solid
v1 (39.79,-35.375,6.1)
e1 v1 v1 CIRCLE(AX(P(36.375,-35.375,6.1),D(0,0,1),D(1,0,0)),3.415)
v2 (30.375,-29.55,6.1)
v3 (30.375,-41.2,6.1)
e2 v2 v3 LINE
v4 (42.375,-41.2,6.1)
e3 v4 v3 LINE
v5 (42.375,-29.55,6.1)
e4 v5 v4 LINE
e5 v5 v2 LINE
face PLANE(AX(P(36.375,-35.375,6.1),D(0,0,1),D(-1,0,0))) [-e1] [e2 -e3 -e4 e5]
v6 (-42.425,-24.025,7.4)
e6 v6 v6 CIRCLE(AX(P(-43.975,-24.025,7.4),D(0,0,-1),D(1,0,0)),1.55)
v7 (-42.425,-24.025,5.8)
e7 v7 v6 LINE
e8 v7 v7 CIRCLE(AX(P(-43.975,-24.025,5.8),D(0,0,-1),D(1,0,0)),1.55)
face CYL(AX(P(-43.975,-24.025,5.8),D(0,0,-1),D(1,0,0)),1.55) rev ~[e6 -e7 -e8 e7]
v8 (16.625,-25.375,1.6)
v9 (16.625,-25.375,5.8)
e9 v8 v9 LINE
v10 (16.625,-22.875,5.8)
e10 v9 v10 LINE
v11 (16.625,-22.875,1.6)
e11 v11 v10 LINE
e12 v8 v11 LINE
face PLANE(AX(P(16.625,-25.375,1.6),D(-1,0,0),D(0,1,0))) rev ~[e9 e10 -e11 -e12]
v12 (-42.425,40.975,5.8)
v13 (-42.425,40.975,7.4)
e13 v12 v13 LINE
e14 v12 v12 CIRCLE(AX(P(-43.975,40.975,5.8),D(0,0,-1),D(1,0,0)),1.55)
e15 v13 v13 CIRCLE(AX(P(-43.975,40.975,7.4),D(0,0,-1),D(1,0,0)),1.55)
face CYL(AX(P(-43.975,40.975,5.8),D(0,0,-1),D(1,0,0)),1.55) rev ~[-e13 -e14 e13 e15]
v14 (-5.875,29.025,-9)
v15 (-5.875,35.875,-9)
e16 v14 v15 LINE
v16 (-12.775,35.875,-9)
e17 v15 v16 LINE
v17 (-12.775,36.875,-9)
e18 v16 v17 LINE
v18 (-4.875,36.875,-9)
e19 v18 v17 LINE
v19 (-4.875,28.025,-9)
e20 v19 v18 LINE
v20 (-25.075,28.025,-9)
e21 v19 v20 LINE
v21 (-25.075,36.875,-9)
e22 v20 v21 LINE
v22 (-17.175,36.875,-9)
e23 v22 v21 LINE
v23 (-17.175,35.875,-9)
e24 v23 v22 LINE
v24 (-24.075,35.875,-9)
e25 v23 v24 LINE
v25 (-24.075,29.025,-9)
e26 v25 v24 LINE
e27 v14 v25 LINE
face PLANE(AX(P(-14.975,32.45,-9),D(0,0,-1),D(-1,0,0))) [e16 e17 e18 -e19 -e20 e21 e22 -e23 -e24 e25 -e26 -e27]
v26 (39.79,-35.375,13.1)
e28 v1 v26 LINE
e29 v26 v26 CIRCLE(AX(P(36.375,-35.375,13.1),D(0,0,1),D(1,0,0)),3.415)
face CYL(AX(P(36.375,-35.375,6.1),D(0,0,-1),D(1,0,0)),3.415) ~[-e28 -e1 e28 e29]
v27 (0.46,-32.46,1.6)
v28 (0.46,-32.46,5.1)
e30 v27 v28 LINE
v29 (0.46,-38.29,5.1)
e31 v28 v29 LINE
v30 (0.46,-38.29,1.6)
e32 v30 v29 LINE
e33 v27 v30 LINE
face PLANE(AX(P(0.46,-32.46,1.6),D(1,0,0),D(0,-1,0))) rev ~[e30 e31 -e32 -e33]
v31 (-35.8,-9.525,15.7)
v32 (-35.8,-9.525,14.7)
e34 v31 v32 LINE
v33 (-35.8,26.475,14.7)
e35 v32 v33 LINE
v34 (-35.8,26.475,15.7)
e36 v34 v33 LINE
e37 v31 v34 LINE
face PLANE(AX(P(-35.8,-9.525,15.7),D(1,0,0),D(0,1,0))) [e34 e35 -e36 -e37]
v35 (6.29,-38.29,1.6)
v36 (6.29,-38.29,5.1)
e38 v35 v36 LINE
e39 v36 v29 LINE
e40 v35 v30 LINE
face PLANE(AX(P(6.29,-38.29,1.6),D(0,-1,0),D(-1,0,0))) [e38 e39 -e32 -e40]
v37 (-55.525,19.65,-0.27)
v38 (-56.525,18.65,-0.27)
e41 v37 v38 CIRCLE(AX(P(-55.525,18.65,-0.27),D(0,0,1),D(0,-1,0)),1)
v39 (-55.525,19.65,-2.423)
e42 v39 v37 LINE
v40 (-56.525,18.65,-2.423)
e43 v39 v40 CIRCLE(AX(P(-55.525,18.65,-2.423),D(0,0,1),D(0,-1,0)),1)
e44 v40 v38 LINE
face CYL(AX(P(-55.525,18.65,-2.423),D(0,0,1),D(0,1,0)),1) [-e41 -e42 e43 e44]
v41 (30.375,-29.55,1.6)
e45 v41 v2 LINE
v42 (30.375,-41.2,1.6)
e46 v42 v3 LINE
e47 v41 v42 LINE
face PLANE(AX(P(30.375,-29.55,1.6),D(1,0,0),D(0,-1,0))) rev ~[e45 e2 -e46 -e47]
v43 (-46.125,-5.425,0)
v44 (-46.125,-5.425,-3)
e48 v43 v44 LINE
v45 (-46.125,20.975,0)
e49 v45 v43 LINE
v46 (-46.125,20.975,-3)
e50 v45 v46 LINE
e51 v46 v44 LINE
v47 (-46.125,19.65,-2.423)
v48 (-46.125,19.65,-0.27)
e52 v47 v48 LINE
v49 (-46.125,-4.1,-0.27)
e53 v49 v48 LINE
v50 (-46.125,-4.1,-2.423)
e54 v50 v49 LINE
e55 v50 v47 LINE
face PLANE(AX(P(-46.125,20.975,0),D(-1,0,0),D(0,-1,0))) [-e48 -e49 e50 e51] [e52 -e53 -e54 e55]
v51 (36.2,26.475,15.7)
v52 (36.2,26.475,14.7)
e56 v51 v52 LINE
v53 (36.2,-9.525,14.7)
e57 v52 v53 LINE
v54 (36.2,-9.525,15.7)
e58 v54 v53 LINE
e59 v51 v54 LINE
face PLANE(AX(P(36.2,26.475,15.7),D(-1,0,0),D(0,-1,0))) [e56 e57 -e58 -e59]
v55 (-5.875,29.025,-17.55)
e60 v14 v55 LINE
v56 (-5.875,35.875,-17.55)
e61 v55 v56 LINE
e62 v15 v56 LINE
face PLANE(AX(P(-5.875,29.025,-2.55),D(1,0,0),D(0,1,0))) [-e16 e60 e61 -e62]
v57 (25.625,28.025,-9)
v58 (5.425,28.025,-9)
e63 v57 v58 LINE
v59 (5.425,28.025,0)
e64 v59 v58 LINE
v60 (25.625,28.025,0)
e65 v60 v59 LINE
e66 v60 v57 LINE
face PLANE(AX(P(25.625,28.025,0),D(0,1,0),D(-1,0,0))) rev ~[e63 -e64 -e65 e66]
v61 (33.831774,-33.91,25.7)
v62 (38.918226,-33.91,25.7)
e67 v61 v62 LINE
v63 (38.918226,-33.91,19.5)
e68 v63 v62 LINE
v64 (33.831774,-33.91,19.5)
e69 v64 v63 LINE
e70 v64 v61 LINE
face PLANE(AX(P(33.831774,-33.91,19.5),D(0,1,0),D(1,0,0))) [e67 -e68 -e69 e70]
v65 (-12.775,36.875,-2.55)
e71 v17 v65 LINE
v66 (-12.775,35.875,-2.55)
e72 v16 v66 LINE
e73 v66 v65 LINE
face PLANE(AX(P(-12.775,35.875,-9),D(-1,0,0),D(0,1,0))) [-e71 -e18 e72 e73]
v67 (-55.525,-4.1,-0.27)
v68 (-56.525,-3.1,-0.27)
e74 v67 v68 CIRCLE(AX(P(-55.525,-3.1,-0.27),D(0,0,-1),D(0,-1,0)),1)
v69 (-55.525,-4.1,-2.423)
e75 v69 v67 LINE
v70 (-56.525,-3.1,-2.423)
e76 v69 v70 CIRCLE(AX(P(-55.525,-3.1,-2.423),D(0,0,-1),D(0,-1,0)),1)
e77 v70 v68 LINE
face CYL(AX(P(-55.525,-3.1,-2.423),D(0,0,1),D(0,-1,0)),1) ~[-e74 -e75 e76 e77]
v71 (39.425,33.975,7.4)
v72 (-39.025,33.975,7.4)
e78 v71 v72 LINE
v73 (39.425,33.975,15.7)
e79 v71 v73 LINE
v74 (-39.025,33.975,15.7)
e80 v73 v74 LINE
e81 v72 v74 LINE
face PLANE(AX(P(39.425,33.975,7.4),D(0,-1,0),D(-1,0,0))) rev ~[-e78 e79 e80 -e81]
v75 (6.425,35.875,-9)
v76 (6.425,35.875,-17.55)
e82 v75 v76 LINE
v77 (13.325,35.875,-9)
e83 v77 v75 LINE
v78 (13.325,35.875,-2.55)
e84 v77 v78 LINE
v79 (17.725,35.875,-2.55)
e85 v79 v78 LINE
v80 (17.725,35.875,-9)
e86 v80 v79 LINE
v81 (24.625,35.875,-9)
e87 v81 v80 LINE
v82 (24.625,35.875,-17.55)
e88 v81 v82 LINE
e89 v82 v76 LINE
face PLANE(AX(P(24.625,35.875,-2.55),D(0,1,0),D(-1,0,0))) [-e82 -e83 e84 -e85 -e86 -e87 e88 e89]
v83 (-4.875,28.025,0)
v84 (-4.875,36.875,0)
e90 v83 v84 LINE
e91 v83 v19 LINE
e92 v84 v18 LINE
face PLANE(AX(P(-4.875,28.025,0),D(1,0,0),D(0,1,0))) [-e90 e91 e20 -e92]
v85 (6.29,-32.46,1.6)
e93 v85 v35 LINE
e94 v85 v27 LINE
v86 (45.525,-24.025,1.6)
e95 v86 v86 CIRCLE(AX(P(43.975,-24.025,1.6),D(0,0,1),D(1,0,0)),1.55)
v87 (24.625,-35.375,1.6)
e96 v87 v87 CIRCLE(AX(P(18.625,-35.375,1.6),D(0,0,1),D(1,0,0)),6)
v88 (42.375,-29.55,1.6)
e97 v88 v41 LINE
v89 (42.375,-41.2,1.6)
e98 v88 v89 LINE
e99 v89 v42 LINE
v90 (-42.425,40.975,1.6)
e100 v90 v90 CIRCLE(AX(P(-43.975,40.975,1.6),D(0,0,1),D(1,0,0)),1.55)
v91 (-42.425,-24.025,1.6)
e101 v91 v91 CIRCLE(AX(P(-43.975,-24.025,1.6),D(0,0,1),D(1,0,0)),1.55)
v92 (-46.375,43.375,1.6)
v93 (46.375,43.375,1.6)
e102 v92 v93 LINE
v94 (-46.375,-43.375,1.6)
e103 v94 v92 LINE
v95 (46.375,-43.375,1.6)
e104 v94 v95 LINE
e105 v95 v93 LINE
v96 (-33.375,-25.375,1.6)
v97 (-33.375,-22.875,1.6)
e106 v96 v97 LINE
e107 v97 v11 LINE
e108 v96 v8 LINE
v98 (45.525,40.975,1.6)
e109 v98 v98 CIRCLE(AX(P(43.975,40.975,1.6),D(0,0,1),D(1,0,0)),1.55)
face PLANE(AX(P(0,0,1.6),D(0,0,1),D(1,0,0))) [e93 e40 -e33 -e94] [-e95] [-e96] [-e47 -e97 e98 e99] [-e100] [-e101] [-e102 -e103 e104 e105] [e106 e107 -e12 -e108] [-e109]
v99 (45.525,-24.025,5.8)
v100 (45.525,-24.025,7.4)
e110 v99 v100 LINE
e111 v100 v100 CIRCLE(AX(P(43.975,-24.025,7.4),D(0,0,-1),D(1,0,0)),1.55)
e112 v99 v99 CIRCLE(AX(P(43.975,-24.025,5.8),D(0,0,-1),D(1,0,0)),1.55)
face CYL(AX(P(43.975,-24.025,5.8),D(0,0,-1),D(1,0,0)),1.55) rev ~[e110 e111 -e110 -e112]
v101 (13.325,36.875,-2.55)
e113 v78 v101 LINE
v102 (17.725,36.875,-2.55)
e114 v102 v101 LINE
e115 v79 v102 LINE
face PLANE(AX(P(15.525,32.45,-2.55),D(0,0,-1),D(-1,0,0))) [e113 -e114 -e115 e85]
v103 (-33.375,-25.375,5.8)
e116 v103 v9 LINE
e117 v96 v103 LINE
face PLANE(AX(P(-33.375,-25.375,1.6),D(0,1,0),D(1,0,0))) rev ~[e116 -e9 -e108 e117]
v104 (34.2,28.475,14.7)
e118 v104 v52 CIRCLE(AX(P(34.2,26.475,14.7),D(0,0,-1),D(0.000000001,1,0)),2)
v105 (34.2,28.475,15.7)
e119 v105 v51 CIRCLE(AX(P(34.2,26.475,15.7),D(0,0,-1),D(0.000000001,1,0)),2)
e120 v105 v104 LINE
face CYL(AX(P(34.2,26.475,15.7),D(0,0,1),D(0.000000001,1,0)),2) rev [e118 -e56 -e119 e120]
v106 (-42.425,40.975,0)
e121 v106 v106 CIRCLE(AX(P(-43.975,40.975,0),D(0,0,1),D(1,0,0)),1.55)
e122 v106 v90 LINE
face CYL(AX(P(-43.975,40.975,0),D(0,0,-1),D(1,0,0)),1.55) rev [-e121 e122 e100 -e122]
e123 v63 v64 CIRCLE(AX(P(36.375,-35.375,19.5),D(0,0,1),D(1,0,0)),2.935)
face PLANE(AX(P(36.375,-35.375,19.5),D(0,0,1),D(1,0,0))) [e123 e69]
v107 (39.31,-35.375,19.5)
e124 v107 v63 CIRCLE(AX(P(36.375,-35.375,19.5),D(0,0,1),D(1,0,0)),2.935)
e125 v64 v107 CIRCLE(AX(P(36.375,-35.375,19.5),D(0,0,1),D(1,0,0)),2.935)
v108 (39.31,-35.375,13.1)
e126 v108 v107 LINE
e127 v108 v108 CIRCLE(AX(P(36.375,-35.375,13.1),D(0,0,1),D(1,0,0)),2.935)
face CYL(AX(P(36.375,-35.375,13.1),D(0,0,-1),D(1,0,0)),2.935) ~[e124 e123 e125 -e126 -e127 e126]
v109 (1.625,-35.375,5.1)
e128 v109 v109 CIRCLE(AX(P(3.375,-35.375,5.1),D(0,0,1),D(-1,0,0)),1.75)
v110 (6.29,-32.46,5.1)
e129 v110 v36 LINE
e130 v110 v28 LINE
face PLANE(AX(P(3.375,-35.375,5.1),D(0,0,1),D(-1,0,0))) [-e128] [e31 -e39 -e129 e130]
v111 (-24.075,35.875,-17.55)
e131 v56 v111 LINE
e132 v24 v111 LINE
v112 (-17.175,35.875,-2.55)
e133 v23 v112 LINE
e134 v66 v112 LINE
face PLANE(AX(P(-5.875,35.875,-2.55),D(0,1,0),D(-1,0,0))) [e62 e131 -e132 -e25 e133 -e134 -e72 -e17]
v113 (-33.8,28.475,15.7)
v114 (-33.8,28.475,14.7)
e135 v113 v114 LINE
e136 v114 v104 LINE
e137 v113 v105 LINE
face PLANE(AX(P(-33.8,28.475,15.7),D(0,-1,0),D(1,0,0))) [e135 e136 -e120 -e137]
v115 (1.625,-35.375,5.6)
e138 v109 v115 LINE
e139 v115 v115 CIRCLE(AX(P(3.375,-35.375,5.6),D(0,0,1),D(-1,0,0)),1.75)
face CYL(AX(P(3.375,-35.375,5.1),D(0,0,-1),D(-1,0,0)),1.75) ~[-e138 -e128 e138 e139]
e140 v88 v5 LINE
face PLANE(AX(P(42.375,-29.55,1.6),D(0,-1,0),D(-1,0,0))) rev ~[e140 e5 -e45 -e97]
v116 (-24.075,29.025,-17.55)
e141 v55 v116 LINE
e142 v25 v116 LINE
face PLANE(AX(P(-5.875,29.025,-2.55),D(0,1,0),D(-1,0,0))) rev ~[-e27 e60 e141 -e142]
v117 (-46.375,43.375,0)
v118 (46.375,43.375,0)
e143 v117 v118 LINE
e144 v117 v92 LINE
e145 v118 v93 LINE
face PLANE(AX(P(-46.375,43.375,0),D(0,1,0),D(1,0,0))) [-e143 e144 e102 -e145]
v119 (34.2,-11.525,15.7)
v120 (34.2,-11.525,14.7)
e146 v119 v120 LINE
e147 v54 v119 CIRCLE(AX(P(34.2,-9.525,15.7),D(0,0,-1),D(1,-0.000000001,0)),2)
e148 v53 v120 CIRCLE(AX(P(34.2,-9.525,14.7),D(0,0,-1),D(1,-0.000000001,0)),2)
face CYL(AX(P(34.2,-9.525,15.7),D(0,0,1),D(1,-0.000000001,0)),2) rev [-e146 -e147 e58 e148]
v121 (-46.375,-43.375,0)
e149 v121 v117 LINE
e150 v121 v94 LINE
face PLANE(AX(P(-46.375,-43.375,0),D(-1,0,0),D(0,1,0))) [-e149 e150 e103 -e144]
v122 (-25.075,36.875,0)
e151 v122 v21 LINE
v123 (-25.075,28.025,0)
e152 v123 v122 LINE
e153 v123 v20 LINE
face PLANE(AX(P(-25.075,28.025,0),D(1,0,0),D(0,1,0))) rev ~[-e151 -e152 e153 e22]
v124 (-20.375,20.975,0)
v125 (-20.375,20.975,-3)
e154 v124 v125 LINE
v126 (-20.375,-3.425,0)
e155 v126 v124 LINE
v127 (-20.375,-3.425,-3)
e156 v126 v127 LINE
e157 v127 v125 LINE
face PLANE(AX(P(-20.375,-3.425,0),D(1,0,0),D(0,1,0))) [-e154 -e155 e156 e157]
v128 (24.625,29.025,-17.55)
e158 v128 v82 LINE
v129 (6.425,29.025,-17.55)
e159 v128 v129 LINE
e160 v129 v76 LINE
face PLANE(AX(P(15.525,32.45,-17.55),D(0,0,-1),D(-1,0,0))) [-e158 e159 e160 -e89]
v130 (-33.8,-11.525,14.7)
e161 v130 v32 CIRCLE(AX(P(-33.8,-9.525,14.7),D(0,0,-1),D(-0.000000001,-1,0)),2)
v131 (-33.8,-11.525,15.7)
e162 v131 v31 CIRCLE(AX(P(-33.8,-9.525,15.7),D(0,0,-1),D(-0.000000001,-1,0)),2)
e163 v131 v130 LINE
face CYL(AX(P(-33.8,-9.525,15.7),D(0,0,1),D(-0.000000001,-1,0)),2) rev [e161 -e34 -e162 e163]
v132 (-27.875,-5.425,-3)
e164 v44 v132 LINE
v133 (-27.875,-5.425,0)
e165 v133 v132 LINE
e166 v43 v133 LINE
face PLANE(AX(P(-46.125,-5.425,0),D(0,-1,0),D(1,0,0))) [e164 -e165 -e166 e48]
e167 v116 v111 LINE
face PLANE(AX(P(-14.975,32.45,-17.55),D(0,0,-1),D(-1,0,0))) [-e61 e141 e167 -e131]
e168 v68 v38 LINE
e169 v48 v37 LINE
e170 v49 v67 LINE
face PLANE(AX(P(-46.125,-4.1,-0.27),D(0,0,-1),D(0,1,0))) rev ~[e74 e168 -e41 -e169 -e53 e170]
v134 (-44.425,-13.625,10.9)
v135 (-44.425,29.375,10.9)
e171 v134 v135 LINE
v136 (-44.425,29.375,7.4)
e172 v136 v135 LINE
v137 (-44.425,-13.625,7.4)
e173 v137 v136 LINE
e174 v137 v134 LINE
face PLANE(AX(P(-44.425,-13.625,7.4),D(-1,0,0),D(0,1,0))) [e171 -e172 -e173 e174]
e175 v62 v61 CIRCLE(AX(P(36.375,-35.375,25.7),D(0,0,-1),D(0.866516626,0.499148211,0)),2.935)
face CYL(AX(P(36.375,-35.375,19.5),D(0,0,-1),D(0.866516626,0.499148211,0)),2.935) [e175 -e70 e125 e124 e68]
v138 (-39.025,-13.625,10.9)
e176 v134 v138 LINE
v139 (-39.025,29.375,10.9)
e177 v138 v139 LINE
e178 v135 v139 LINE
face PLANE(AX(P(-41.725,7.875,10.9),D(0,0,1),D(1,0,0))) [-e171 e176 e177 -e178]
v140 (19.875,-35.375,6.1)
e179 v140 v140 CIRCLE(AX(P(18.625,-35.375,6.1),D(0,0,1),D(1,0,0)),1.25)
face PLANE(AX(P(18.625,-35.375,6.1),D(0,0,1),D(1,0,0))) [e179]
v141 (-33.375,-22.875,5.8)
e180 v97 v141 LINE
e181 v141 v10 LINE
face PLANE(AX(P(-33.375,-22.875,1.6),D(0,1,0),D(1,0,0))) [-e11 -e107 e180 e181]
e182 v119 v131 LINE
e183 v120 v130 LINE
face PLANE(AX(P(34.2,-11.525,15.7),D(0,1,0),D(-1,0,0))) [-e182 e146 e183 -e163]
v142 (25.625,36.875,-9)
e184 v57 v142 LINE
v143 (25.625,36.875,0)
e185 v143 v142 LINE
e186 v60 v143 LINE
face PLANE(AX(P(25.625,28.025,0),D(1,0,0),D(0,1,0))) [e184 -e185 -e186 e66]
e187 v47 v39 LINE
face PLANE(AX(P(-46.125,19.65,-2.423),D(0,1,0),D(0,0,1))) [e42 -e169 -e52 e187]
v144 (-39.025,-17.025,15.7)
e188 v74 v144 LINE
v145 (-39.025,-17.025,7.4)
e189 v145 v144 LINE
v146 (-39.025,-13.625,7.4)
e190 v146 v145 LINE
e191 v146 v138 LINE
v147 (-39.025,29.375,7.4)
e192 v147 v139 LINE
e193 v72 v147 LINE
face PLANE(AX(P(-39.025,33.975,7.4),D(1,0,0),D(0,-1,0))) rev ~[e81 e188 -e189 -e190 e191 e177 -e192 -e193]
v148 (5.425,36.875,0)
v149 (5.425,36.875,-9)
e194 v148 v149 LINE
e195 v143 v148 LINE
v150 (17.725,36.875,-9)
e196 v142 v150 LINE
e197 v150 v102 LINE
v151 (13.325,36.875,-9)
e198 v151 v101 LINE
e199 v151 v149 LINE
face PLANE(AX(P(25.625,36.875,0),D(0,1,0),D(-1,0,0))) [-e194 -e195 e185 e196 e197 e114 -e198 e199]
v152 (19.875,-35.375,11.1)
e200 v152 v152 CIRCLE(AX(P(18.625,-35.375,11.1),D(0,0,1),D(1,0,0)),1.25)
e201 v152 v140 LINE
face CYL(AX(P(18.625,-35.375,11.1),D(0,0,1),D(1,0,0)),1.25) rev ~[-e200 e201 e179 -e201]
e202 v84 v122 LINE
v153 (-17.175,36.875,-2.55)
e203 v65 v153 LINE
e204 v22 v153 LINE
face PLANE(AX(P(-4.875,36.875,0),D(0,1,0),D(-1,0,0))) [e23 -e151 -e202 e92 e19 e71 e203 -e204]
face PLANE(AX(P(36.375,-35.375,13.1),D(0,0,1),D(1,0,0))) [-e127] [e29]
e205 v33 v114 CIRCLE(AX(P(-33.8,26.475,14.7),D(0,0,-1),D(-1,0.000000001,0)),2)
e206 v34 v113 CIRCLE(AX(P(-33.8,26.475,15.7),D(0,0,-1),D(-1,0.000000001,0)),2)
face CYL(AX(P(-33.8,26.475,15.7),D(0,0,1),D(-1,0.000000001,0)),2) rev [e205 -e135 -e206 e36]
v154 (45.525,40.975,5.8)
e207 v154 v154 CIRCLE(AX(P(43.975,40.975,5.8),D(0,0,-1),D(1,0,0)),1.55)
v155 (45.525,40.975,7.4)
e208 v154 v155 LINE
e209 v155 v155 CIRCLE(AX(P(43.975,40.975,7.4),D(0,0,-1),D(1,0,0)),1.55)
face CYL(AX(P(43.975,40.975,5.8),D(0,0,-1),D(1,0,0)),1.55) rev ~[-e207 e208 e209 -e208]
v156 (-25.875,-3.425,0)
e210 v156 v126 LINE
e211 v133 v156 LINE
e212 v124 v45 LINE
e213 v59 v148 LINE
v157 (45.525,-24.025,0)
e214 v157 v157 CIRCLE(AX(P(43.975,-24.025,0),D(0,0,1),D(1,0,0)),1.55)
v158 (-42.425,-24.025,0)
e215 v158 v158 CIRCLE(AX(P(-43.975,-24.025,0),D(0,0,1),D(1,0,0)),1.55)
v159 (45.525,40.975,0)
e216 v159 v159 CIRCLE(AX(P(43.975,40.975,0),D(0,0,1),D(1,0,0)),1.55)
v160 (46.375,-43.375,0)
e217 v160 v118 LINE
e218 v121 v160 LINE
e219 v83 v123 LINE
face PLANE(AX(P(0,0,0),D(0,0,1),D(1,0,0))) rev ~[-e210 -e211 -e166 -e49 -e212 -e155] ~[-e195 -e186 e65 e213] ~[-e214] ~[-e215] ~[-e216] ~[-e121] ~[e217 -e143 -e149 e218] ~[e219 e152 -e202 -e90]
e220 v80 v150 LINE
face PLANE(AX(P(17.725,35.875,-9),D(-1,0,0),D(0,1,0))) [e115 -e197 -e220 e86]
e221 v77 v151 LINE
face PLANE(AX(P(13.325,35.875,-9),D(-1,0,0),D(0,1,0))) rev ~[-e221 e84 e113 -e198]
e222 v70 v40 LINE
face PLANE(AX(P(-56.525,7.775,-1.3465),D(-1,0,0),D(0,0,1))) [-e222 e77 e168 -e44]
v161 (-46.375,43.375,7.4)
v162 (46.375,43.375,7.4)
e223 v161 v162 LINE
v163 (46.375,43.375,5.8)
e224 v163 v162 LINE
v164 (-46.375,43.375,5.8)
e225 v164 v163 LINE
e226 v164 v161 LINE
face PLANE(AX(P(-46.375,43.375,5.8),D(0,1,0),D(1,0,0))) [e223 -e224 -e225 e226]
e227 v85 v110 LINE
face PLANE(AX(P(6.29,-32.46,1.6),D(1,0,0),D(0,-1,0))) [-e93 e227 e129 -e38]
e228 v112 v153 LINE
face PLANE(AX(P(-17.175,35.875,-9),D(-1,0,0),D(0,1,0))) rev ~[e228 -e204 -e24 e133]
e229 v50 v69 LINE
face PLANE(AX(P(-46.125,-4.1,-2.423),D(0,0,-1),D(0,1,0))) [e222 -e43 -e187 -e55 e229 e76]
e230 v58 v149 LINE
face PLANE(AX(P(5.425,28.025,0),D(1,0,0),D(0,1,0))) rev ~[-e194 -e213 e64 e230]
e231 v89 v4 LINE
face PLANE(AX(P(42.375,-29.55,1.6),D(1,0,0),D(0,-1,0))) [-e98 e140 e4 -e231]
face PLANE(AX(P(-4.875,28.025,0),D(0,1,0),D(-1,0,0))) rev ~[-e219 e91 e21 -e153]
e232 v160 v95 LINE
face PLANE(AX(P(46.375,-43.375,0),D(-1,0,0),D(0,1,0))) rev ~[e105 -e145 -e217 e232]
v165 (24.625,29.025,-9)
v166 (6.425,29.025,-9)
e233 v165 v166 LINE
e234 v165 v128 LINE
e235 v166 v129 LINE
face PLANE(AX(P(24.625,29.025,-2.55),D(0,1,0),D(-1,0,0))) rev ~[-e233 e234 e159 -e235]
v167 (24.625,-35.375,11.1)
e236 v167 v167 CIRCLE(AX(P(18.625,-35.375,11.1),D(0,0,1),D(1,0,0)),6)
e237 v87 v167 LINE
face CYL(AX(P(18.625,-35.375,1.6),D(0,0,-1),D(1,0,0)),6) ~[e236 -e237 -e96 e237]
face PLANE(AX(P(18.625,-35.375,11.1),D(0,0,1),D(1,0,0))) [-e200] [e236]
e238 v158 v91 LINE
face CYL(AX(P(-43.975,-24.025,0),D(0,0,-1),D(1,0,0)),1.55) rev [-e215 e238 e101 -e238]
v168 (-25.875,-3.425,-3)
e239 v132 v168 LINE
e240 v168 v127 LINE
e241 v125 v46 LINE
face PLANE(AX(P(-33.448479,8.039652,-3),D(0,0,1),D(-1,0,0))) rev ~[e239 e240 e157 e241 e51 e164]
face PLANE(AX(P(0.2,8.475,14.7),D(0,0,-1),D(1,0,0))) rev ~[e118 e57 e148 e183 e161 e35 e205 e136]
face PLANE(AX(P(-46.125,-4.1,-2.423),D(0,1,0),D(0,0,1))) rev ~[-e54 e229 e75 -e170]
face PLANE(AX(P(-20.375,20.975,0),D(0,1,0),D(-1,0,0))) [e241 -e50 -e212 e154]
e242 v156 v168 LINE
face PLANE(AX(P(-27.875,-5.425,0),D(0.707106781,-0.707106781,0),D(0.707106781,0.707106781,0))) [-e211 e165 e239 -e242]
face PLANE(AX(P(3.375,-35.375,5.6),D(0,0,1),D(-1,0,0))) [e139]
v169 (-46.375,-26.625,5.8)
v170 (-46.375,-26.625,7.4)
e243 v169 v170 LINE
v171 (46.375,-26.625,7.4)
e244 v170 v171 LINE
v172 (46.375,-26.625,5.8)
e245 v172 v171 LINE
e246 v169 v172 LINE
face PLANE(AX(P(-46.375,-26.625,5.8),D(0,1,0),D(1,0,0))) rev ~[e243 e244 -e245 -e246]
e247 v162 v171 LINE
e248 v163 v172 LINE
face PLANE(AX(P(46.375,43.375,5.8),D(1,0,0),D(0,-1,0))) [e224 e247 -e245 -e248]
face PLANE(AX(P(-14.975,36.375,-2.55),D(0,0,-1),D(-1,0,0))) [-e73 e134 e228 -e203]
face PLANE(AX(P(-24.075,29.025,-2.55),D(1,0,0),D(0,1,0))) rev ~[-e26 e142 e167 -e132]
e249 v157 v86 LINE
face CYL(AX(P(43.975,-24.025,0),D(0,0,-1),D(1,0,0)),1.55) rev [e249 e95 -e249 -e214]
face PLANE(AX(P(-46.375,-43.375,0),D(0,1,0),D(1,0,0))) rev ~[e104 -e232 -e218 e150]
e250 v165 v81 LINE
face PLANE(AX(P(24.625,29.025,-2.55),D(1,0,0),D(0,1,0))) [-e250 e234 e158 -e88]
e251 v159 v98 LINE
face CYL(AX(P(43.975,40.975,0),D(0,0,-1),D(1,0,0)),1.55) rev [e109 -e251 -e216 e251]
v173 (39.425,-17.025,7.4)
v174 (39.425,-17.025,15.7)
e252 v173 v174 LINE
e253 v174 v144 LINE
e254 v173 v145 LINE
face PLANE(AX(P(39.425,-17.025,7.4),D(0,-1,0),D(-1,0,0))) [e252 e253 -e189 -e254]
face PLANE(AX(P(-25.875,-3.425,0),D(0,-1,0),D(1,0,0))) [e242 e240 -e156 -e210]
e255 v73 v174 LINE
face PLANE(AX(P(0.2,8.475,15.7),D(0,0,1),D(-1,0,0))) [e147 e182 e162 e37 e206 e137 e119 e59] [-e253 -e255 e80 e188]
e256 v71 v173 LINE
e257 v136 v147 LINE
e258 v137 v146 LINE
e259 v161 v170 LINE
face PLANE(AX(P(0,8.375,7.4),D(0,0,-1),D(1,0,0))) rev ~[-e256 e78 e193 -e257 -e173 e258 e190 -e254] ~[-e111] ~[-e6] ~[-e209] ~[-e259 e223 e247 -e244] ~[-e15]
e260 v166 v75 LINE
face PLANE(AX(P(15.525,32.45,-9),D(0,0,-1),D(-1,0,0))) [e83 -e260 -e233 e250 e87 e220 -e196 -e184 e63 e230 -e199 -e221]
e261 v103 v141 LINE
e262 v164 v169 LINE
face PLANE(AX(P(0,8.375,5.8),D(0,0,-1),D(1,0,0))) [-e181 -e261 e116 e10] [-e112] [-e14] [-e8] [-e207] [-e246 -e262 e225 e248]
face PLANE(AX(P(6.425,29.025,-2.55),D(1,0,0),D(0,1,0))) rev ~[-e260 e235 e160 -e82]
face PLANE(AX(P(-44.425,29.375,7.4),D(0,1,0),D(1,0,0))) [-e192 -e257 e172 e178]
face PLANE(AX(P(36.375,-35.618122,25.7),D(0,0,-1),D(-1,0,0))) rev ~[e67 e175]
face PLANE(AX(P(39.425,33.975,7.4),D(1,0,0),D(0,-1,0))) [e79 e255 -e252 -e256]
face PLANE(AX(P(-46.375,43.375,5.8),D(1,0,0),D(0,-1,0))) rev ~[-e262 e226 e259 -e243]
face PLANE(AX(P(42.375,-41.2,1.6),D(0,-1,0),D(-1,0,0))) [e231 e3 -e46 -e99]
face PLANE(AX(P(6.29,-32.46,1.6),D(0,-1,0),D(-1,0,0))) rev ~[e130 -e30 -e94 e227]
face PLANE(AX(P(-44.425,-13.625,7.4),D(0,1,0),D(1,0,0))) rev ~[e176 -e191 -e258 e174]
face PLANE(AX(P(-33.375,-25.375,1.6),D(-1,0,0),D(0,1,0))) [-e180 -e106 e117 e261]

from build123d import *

# Parameters (mm, degrees)
SKETCH1_W                             = 92.75
SKETCH1_H                             = 86.75
SKETCH1_R                             = 1.55
BOSS_EXTRUDE1_FIRST_PCB_DEPTH         = 1.6
SKETCH2_R                             = 6
BOSS_EXTRUDE2_SPEAKER_DEPTH           = 9.5
SKETCH15_R                            = 1.25
CUT_EXTRUDE1_SPEAKER_HOLE_DEPTH       = 5
SKETCH3_W                             = 12
SKETCH3_H                             = 11.65
BOSS_EXTRUDE3_ROTARY_SWITCH_DEPTH     = 4.5
SKETCH4_W                             = 5.83
SKETCH4_H                             = 5.83
BOSS_EXTRUDE4_RESET_SWITCH_DEPTH      = 3.5
SKETCH5_R                             = 1.75
BOSS_EXTRUDE5_RESET_BUTTON_DEPTH      = 0.5
SKETCH16_R                            = 3.415
BOSS_EXTRUDE6_ROTARY_SWITCH_DEPTH     = 7
SKETCH17_R                            = 2.935
BOSS_EXTRUDE7_ROTARY_SWITCH_DEPTH     = 6.4
BOSS_EXTRUDE8_ROTARY_SWITCH_DEPTH     = 6.2
BOSS_EXTRUDE9_SD_CARD_SLOT_DEPTH      = 3
SKETCH19_W                            = 50
SKETCH19_H                            = 2.5
BOSS_EXTRUDE10_CONNECTOR_DEPTH        = 4.2
SKETCH11_W                            = 92.75
SKETCH11_H                            = 70
SKETCH11_R                            = 1.55
BOSS_EXTRUDE11_UPPER_PCB_DEPTH        = 1.6
SKETCH12_W                            = 78.45
SKETCH12_H                            = 51
BOSS_EXTRUDE12_LCD_DEPTH              = 8.3
SKETCH24_W                            = 5.4
SKETCH24_H                            = 43
BOSS_EXTRUDE13_LCD_BUMPOUT_DEPTH      = 3.5
CUT_EXTRUDE2_SCREEN_RECESS_DEPTH      = 1
SKETCH21_W                            = 20.2
SKETCH21_H                            = 8.85
SKETCH21_W_2                          = 18.2
SKETCH21_H_2                          = 6.85
BOSS_EXTRUDE14_CONNECTORS_DEPTH       = 9
SKETCH22_W                            = 18.2
SKETCH22_H                            = 6.85
BOSS_EXTRUDE15_CONNECTOR_RECESS_DEPTH = 2.55
SKETCH23_W                            = 4.4
SKETCH23_H                            = 1
CUT_EXTRUDE3_CONNECTOR_NOTCH_DEPTH    = 6.45
SKETCH20_W                            = 2.153
SKETCH20_H                            = 23.75
BOSS_EXTRUDE16_SD_CARD_DEPTH          = 10.4
FILLET1_SD_CARD_R                     = 1
CROQUIS1_W                            = 18.2
CROQUIS1_H                            = 6.85
SALIENTE_EXTRUIR1_DEPTH               = 15


with BuildPart() as part:
    # Sketch1 → Boss-Extrude1 - First PCB (new body)
    with BuildSketch(Plane.XY):
        Rectangle(SKETCH1_W, SKETCH1_H)
        with Locations((-43.975, 40.975)):
            Circle(SKETCH1_R, mode=Mode.SUBTRACT)
        with Locations((43.975, 40.975)):
            Circle(SKETCH1_R, mode=Mode.SUBTRACT)
        with Locations((43.975, -24.025)):
            Circle(SKETCH1_R, mode=Mode.SUBTRACT)
        with Locations((-43.975, -24.025)):
            Circle(SKETCH1_R, mode=Mode.SUBTRACT)
    extrude(amount=BOSS_EXTRUDE1_FIRST_PCB_DEPTH)

    # Sketch2 → Boss-Extrude2 - Speaker (add)
    with BuildSketch(Plane.XY.offset(1.6)):
        with Locations((18.625, -35.375)):
            Circle(SKETCH2_R)
    extrude(amount=BOSS_EXTRUDE2_SPEAKER_DEPTH)

    # Sketch15 → Cut-Extrude1 - Speaker Hole (cut)
    with BuildSketch(Plane.XY.offset(11.1)):
        with Locations((18.625, -35.375)):
            Circle(SKETCH15_R)
    extrude(amount=-CUT_EXTRUDE1_SPEAKER_HOLE_DEPTH, mode=Mode.SUBTRACT)

    # Sketch3 → Boss-Extrude3 - Rotary Switch (add)
    with BuildSketch(Plane(origin=(0, 0, 1.6), x_dir=(-1, 0, 0), z_dir=(0, 0, 1))):
        with Locations((-36.375, 35.375)):
            Rectangle(SKETCH3_W, SKETCH3_H)
    extrude(amount=BOSS_EXTRUDE3_ROTARY_SWITCH_DEPTH)

    # Sketch4 → Boss-Extrude4 - Reset Switch (add)
    with BuildSketch(Plane(origin=(0, 0, 1.6), x_dir=(-1, 0, 0), z_dir=(0, 0, 1))):
        with Locations((-3.375, 35.375)):
            Rectangle(SKETCH4_W, SKETCH4_H)
    extrude(amount=BOSS_EXTRUDE4_RESET_SWITCH_DEPTH)

    # Sketch5 → Boss-Extrude5 - Reset Button (add)
    with BuildSketch(Plane(origin=(0, 0, 5.1), x_dir=(-1, 0, 0), z_dir=(0, 0, 1))):
        with Locations((-3.375, 35.375)):
            Circle(SKETCH5_R)
    extrude(amount=BOSS_EXTRUDE5_RESET_BUTTON_DEPTH)

    # Sketch16 → Boss-Extrude6 - Rotary Switch (add)
    with BuildSketch(Plane.XY.offset(6.1)):
        with Locations((36.375, -35.375)):
            Circle(SKETCH16_R)
    extrude(amount=BOSS_EXTRUDE6_ROTARY_SWITCH_DEPTH)

    # Sketch17 → Boss-Extrude7 - Rotary Switch (add)
    with BuildSketch(Plane.XY.offset(13.1)):
        with Locations((36.375, -35.375)):
            Circle(SKETCH17_R)
    extrude(amount=BOSS_EXTRUDE7_ROTARY_SWITCH_DEPTH)

    # Sketch18 → Boss-Extrude8 - Rotary Switch (add)
    with BuildSketch(Plane.XY.offset(19.5)):
        with BuildLine():
            Line((33.831773703, -33.91), (38.918226297, -33.91))
            ThreePointArc((38.918226297, -33.91), (36.375, -38.31), (33.831773703, -33.91))
        make_face()
    extrude(amount=BOSS_EXTRUDE8_ROTARY_SWITCH_DEPTH)

    # Sketch9 → Boss-Extrude9 - SD Card Slot (add)
    with BuildSketch(Plane(origin=(0, 0, 0), x_dir=(1, 0, 0), z_dir=(0, 0, -1))):
        Polygon((-46.125, 5.425), (-27.875, 5.425), (-25.875, 3.425), (-20.375, 3.425), (-20.375, -20.975), (-46.125, -20.975), align=None)
    extrude(amount=BOSS_EXTRUDE9_SD_CARD_SLOT_DEPTH)

    # Sketch19 → Boss-Extrude10 - Connector (add)
    with BuildSketch(Plane.XY.offset(1.6)):
        with Locations((-8.375, -24.125)):
            Rectangle(SKETCH19_W, SKETCH19_H)
    extrude(amount=BOSS_EXTRUDE10_CONNECTOR_DEPTH)

    # Sketch11 → Boss-Extrude11 - Upper PCB (add)
    with BuildSketch(Plane(origin=(0, -2, 5.8), x_dir=(1, 0, 0), z_dir=(0, 0, -1))):
        with Locations((0, -10.375)):
            Rectangle(SKETCH11_W, SKETCH11_H)
        with Locations((-43.975, -42.975)):
            Circle(SKETCH11_R, mode=Mode.SUBTRACT)
        with Locations((-43.975, 22.025)):
            Circle(SKETCH11_R, mode=Mode.SUBTRACT)
        with Locations((43.975, -42.975)):
            Circle(SKETCH11_R, mode=Mode.SUBTRACT)
        with Locations((43.975, 22.025)):
            Circle(SKETCH11_R, mode=Mode.SUBTRACT)
    extrude(amount=-BOSS_EXTRUDE11_UPPER_PCB_DEPTH)

    # Sketch12 → Boss-Extrude12 - LCD (add)
    with BuildSketch(Plane(origin=(0, 0, 7.4), x_dir=(-1, 0, 0), z_dir=(0, 0, 1))):
        with Locations((-0.2, -8.475)):
            Rectangle(SKETCH12_W, SKETCH12_H)
    extrude(amount=BOSS_EXTRUDE12_LCD_DEPTH)

    # Sketch24 → Boss-Extrude13 - LCD Bumpout (add)
    with BuildSketch(Plane.XY.offset(7.4)):
        with Locations((-41.725, 7.875)):
            Rectangle(SKETCH24_W, SKETCH24_H)
    extrude(amount=BOSS_EXTRUDE13_LCD_BUMPOUT_DEPTH)

    # Sketch13 → Cut-Extrude2 - Screen Recess (cut)
    with BuildSketch(Plane(origin=(0, 0, 15.7), x_dir=(-1, 0, 0), z_dir=(0, 0, 1))):
        with BuildLine():
            Line((-34.2, 11.525), (33.8, 11.525))
            ThreePointArc((33.8, 11.525), (35.214213562, 10.939213562), (35.8, 9.525))
            Line((35.8, 9.525), (35.8, -26.475))
            ThreePointArc((35.8, -26.475), (35.214213562, -27.889213562), (33.8, -28.475))
            Line((33.8, -28.475), (-34.2, -28.475))
            ThreePointArc((-34.2, -28.475), (-35.614213562, -27.889213562), (-36.2, -26.475))
            Line((-36.2, -26.475), (-36.2, 9.525))
            ThreePointArc((-36.2, 9.525), (-35.614213562, 10.939213562), (-34.2, 11.525))
        make_face()
    extrude(amount=-CUT_EXTRUDE2_SCREEN_RECESS_DEPTH, mode=Mode.SUBTRACT)

    # Sketch21 → Boss-Extrude14 - Connectors (add)
    with BuildSketch(Plane(origin=(0, 0, 0), x_dir=(-1, 0, 0), z_dir=(0, 0, -1))):
        with Locations((-15.525, 32.45)):
            Rectangle(SKETCH21_W, SKETCH21_H)
        with Locations((-15.525, 32.45)):
            Rectangle(SKETCH21_W_2, SKETCH21_H_2, mode=Mode.SUBTRACT)
        with Locations((14.975, 32.45)):
            Rectangle(SKETCH21_W, SKETCH21_H)
        with Locations((14.975, 32.45)):
            Rectangle(SKETCH21_W_2, SKETCH21_H_2, mode=Mode.SUBTRACT)
    extrude(amount=BOSS_EXTRUDE14_CONNECTORS_DEPTH)

    # Sketch22 → Boss-Extrude15 - Connector Recess (add)
    with BuildSketch(Plane(origin=(0, 0, 0), x_dir=(-1, 0, 0), z_dir=(0, 0, -1))):
        with Locations((-15.525, 32.45)):
            Rectangle(SKETCH22_W, SKETCH22_H)
        with Locations((14.975, 32.45)):
            Rectangle(SKETCH22_W, SKETCH22_H)
    extrude(amount=BOSS_EXTRUDE15_CONNECTOR_RECESS_DEPTH)

    # Sketch23 → Cut-Extrude3 - Connector Notch (cut)
    with BuildSketch(Plane(origin=(0, 0, -9), x_dir=(-1, 0, 0), z_dir=(0, 0, -1))):
        with Locations((-15.525, 36.375)):
            Rectangle(SKETCH23_W, SKETCH23_H)
        with Locations((14.975, 36.375)):
            Rectangle(SKETCH23_W, SKETCH23_H)
    extrude(amount=-CUT_EXTRUDE3_CONNECTOR_NOTCH_DEPTH, mode=Mode.SUBTRACT)

    # Sketch20 → Boss-Extrude16 - SD Card (add)
    with BuildSketch(Plane.ZY.offset(46.125)):
        with Locations((-1.3465, 7.775)):
            Rectangle(SKETCH20_W, SKETCH20_H)
    extrude(amount=BOSS_EXTRUDE16_SD_CARD_DEPTH)

    # Fillet1 - SD Card
    fillet1_sd_card_edges = [part.edges().sort_by_distance(p)[0] for p in [
        (-56.525, -4.1, -1.3465),
        (-56.525, 19.65, -1.3465),
    ]]
    fillet(fillet1_sd_card_edges, radius=FILLET1_SD_CARD_R)

    # Croquis1 → Saliente-Extruir1 (add)
    with BuildSketch(Plane(origin=(0, 0, -2.55), x_dir=(-1, 0, 0), z_dir=(0, 0, -1))):
        with Locations((-15.525, 32.45)):
            Rectangle(CROQUIS1_W, CROQUIS1_H)
        with Locations((14.975, 32.45)):
            Rectangle(CROQUIS1_W, CROQUIS1_H)
    extrude(amount=SALIENTE_EXTRUIR1_DEPTH)


solid = part.part
